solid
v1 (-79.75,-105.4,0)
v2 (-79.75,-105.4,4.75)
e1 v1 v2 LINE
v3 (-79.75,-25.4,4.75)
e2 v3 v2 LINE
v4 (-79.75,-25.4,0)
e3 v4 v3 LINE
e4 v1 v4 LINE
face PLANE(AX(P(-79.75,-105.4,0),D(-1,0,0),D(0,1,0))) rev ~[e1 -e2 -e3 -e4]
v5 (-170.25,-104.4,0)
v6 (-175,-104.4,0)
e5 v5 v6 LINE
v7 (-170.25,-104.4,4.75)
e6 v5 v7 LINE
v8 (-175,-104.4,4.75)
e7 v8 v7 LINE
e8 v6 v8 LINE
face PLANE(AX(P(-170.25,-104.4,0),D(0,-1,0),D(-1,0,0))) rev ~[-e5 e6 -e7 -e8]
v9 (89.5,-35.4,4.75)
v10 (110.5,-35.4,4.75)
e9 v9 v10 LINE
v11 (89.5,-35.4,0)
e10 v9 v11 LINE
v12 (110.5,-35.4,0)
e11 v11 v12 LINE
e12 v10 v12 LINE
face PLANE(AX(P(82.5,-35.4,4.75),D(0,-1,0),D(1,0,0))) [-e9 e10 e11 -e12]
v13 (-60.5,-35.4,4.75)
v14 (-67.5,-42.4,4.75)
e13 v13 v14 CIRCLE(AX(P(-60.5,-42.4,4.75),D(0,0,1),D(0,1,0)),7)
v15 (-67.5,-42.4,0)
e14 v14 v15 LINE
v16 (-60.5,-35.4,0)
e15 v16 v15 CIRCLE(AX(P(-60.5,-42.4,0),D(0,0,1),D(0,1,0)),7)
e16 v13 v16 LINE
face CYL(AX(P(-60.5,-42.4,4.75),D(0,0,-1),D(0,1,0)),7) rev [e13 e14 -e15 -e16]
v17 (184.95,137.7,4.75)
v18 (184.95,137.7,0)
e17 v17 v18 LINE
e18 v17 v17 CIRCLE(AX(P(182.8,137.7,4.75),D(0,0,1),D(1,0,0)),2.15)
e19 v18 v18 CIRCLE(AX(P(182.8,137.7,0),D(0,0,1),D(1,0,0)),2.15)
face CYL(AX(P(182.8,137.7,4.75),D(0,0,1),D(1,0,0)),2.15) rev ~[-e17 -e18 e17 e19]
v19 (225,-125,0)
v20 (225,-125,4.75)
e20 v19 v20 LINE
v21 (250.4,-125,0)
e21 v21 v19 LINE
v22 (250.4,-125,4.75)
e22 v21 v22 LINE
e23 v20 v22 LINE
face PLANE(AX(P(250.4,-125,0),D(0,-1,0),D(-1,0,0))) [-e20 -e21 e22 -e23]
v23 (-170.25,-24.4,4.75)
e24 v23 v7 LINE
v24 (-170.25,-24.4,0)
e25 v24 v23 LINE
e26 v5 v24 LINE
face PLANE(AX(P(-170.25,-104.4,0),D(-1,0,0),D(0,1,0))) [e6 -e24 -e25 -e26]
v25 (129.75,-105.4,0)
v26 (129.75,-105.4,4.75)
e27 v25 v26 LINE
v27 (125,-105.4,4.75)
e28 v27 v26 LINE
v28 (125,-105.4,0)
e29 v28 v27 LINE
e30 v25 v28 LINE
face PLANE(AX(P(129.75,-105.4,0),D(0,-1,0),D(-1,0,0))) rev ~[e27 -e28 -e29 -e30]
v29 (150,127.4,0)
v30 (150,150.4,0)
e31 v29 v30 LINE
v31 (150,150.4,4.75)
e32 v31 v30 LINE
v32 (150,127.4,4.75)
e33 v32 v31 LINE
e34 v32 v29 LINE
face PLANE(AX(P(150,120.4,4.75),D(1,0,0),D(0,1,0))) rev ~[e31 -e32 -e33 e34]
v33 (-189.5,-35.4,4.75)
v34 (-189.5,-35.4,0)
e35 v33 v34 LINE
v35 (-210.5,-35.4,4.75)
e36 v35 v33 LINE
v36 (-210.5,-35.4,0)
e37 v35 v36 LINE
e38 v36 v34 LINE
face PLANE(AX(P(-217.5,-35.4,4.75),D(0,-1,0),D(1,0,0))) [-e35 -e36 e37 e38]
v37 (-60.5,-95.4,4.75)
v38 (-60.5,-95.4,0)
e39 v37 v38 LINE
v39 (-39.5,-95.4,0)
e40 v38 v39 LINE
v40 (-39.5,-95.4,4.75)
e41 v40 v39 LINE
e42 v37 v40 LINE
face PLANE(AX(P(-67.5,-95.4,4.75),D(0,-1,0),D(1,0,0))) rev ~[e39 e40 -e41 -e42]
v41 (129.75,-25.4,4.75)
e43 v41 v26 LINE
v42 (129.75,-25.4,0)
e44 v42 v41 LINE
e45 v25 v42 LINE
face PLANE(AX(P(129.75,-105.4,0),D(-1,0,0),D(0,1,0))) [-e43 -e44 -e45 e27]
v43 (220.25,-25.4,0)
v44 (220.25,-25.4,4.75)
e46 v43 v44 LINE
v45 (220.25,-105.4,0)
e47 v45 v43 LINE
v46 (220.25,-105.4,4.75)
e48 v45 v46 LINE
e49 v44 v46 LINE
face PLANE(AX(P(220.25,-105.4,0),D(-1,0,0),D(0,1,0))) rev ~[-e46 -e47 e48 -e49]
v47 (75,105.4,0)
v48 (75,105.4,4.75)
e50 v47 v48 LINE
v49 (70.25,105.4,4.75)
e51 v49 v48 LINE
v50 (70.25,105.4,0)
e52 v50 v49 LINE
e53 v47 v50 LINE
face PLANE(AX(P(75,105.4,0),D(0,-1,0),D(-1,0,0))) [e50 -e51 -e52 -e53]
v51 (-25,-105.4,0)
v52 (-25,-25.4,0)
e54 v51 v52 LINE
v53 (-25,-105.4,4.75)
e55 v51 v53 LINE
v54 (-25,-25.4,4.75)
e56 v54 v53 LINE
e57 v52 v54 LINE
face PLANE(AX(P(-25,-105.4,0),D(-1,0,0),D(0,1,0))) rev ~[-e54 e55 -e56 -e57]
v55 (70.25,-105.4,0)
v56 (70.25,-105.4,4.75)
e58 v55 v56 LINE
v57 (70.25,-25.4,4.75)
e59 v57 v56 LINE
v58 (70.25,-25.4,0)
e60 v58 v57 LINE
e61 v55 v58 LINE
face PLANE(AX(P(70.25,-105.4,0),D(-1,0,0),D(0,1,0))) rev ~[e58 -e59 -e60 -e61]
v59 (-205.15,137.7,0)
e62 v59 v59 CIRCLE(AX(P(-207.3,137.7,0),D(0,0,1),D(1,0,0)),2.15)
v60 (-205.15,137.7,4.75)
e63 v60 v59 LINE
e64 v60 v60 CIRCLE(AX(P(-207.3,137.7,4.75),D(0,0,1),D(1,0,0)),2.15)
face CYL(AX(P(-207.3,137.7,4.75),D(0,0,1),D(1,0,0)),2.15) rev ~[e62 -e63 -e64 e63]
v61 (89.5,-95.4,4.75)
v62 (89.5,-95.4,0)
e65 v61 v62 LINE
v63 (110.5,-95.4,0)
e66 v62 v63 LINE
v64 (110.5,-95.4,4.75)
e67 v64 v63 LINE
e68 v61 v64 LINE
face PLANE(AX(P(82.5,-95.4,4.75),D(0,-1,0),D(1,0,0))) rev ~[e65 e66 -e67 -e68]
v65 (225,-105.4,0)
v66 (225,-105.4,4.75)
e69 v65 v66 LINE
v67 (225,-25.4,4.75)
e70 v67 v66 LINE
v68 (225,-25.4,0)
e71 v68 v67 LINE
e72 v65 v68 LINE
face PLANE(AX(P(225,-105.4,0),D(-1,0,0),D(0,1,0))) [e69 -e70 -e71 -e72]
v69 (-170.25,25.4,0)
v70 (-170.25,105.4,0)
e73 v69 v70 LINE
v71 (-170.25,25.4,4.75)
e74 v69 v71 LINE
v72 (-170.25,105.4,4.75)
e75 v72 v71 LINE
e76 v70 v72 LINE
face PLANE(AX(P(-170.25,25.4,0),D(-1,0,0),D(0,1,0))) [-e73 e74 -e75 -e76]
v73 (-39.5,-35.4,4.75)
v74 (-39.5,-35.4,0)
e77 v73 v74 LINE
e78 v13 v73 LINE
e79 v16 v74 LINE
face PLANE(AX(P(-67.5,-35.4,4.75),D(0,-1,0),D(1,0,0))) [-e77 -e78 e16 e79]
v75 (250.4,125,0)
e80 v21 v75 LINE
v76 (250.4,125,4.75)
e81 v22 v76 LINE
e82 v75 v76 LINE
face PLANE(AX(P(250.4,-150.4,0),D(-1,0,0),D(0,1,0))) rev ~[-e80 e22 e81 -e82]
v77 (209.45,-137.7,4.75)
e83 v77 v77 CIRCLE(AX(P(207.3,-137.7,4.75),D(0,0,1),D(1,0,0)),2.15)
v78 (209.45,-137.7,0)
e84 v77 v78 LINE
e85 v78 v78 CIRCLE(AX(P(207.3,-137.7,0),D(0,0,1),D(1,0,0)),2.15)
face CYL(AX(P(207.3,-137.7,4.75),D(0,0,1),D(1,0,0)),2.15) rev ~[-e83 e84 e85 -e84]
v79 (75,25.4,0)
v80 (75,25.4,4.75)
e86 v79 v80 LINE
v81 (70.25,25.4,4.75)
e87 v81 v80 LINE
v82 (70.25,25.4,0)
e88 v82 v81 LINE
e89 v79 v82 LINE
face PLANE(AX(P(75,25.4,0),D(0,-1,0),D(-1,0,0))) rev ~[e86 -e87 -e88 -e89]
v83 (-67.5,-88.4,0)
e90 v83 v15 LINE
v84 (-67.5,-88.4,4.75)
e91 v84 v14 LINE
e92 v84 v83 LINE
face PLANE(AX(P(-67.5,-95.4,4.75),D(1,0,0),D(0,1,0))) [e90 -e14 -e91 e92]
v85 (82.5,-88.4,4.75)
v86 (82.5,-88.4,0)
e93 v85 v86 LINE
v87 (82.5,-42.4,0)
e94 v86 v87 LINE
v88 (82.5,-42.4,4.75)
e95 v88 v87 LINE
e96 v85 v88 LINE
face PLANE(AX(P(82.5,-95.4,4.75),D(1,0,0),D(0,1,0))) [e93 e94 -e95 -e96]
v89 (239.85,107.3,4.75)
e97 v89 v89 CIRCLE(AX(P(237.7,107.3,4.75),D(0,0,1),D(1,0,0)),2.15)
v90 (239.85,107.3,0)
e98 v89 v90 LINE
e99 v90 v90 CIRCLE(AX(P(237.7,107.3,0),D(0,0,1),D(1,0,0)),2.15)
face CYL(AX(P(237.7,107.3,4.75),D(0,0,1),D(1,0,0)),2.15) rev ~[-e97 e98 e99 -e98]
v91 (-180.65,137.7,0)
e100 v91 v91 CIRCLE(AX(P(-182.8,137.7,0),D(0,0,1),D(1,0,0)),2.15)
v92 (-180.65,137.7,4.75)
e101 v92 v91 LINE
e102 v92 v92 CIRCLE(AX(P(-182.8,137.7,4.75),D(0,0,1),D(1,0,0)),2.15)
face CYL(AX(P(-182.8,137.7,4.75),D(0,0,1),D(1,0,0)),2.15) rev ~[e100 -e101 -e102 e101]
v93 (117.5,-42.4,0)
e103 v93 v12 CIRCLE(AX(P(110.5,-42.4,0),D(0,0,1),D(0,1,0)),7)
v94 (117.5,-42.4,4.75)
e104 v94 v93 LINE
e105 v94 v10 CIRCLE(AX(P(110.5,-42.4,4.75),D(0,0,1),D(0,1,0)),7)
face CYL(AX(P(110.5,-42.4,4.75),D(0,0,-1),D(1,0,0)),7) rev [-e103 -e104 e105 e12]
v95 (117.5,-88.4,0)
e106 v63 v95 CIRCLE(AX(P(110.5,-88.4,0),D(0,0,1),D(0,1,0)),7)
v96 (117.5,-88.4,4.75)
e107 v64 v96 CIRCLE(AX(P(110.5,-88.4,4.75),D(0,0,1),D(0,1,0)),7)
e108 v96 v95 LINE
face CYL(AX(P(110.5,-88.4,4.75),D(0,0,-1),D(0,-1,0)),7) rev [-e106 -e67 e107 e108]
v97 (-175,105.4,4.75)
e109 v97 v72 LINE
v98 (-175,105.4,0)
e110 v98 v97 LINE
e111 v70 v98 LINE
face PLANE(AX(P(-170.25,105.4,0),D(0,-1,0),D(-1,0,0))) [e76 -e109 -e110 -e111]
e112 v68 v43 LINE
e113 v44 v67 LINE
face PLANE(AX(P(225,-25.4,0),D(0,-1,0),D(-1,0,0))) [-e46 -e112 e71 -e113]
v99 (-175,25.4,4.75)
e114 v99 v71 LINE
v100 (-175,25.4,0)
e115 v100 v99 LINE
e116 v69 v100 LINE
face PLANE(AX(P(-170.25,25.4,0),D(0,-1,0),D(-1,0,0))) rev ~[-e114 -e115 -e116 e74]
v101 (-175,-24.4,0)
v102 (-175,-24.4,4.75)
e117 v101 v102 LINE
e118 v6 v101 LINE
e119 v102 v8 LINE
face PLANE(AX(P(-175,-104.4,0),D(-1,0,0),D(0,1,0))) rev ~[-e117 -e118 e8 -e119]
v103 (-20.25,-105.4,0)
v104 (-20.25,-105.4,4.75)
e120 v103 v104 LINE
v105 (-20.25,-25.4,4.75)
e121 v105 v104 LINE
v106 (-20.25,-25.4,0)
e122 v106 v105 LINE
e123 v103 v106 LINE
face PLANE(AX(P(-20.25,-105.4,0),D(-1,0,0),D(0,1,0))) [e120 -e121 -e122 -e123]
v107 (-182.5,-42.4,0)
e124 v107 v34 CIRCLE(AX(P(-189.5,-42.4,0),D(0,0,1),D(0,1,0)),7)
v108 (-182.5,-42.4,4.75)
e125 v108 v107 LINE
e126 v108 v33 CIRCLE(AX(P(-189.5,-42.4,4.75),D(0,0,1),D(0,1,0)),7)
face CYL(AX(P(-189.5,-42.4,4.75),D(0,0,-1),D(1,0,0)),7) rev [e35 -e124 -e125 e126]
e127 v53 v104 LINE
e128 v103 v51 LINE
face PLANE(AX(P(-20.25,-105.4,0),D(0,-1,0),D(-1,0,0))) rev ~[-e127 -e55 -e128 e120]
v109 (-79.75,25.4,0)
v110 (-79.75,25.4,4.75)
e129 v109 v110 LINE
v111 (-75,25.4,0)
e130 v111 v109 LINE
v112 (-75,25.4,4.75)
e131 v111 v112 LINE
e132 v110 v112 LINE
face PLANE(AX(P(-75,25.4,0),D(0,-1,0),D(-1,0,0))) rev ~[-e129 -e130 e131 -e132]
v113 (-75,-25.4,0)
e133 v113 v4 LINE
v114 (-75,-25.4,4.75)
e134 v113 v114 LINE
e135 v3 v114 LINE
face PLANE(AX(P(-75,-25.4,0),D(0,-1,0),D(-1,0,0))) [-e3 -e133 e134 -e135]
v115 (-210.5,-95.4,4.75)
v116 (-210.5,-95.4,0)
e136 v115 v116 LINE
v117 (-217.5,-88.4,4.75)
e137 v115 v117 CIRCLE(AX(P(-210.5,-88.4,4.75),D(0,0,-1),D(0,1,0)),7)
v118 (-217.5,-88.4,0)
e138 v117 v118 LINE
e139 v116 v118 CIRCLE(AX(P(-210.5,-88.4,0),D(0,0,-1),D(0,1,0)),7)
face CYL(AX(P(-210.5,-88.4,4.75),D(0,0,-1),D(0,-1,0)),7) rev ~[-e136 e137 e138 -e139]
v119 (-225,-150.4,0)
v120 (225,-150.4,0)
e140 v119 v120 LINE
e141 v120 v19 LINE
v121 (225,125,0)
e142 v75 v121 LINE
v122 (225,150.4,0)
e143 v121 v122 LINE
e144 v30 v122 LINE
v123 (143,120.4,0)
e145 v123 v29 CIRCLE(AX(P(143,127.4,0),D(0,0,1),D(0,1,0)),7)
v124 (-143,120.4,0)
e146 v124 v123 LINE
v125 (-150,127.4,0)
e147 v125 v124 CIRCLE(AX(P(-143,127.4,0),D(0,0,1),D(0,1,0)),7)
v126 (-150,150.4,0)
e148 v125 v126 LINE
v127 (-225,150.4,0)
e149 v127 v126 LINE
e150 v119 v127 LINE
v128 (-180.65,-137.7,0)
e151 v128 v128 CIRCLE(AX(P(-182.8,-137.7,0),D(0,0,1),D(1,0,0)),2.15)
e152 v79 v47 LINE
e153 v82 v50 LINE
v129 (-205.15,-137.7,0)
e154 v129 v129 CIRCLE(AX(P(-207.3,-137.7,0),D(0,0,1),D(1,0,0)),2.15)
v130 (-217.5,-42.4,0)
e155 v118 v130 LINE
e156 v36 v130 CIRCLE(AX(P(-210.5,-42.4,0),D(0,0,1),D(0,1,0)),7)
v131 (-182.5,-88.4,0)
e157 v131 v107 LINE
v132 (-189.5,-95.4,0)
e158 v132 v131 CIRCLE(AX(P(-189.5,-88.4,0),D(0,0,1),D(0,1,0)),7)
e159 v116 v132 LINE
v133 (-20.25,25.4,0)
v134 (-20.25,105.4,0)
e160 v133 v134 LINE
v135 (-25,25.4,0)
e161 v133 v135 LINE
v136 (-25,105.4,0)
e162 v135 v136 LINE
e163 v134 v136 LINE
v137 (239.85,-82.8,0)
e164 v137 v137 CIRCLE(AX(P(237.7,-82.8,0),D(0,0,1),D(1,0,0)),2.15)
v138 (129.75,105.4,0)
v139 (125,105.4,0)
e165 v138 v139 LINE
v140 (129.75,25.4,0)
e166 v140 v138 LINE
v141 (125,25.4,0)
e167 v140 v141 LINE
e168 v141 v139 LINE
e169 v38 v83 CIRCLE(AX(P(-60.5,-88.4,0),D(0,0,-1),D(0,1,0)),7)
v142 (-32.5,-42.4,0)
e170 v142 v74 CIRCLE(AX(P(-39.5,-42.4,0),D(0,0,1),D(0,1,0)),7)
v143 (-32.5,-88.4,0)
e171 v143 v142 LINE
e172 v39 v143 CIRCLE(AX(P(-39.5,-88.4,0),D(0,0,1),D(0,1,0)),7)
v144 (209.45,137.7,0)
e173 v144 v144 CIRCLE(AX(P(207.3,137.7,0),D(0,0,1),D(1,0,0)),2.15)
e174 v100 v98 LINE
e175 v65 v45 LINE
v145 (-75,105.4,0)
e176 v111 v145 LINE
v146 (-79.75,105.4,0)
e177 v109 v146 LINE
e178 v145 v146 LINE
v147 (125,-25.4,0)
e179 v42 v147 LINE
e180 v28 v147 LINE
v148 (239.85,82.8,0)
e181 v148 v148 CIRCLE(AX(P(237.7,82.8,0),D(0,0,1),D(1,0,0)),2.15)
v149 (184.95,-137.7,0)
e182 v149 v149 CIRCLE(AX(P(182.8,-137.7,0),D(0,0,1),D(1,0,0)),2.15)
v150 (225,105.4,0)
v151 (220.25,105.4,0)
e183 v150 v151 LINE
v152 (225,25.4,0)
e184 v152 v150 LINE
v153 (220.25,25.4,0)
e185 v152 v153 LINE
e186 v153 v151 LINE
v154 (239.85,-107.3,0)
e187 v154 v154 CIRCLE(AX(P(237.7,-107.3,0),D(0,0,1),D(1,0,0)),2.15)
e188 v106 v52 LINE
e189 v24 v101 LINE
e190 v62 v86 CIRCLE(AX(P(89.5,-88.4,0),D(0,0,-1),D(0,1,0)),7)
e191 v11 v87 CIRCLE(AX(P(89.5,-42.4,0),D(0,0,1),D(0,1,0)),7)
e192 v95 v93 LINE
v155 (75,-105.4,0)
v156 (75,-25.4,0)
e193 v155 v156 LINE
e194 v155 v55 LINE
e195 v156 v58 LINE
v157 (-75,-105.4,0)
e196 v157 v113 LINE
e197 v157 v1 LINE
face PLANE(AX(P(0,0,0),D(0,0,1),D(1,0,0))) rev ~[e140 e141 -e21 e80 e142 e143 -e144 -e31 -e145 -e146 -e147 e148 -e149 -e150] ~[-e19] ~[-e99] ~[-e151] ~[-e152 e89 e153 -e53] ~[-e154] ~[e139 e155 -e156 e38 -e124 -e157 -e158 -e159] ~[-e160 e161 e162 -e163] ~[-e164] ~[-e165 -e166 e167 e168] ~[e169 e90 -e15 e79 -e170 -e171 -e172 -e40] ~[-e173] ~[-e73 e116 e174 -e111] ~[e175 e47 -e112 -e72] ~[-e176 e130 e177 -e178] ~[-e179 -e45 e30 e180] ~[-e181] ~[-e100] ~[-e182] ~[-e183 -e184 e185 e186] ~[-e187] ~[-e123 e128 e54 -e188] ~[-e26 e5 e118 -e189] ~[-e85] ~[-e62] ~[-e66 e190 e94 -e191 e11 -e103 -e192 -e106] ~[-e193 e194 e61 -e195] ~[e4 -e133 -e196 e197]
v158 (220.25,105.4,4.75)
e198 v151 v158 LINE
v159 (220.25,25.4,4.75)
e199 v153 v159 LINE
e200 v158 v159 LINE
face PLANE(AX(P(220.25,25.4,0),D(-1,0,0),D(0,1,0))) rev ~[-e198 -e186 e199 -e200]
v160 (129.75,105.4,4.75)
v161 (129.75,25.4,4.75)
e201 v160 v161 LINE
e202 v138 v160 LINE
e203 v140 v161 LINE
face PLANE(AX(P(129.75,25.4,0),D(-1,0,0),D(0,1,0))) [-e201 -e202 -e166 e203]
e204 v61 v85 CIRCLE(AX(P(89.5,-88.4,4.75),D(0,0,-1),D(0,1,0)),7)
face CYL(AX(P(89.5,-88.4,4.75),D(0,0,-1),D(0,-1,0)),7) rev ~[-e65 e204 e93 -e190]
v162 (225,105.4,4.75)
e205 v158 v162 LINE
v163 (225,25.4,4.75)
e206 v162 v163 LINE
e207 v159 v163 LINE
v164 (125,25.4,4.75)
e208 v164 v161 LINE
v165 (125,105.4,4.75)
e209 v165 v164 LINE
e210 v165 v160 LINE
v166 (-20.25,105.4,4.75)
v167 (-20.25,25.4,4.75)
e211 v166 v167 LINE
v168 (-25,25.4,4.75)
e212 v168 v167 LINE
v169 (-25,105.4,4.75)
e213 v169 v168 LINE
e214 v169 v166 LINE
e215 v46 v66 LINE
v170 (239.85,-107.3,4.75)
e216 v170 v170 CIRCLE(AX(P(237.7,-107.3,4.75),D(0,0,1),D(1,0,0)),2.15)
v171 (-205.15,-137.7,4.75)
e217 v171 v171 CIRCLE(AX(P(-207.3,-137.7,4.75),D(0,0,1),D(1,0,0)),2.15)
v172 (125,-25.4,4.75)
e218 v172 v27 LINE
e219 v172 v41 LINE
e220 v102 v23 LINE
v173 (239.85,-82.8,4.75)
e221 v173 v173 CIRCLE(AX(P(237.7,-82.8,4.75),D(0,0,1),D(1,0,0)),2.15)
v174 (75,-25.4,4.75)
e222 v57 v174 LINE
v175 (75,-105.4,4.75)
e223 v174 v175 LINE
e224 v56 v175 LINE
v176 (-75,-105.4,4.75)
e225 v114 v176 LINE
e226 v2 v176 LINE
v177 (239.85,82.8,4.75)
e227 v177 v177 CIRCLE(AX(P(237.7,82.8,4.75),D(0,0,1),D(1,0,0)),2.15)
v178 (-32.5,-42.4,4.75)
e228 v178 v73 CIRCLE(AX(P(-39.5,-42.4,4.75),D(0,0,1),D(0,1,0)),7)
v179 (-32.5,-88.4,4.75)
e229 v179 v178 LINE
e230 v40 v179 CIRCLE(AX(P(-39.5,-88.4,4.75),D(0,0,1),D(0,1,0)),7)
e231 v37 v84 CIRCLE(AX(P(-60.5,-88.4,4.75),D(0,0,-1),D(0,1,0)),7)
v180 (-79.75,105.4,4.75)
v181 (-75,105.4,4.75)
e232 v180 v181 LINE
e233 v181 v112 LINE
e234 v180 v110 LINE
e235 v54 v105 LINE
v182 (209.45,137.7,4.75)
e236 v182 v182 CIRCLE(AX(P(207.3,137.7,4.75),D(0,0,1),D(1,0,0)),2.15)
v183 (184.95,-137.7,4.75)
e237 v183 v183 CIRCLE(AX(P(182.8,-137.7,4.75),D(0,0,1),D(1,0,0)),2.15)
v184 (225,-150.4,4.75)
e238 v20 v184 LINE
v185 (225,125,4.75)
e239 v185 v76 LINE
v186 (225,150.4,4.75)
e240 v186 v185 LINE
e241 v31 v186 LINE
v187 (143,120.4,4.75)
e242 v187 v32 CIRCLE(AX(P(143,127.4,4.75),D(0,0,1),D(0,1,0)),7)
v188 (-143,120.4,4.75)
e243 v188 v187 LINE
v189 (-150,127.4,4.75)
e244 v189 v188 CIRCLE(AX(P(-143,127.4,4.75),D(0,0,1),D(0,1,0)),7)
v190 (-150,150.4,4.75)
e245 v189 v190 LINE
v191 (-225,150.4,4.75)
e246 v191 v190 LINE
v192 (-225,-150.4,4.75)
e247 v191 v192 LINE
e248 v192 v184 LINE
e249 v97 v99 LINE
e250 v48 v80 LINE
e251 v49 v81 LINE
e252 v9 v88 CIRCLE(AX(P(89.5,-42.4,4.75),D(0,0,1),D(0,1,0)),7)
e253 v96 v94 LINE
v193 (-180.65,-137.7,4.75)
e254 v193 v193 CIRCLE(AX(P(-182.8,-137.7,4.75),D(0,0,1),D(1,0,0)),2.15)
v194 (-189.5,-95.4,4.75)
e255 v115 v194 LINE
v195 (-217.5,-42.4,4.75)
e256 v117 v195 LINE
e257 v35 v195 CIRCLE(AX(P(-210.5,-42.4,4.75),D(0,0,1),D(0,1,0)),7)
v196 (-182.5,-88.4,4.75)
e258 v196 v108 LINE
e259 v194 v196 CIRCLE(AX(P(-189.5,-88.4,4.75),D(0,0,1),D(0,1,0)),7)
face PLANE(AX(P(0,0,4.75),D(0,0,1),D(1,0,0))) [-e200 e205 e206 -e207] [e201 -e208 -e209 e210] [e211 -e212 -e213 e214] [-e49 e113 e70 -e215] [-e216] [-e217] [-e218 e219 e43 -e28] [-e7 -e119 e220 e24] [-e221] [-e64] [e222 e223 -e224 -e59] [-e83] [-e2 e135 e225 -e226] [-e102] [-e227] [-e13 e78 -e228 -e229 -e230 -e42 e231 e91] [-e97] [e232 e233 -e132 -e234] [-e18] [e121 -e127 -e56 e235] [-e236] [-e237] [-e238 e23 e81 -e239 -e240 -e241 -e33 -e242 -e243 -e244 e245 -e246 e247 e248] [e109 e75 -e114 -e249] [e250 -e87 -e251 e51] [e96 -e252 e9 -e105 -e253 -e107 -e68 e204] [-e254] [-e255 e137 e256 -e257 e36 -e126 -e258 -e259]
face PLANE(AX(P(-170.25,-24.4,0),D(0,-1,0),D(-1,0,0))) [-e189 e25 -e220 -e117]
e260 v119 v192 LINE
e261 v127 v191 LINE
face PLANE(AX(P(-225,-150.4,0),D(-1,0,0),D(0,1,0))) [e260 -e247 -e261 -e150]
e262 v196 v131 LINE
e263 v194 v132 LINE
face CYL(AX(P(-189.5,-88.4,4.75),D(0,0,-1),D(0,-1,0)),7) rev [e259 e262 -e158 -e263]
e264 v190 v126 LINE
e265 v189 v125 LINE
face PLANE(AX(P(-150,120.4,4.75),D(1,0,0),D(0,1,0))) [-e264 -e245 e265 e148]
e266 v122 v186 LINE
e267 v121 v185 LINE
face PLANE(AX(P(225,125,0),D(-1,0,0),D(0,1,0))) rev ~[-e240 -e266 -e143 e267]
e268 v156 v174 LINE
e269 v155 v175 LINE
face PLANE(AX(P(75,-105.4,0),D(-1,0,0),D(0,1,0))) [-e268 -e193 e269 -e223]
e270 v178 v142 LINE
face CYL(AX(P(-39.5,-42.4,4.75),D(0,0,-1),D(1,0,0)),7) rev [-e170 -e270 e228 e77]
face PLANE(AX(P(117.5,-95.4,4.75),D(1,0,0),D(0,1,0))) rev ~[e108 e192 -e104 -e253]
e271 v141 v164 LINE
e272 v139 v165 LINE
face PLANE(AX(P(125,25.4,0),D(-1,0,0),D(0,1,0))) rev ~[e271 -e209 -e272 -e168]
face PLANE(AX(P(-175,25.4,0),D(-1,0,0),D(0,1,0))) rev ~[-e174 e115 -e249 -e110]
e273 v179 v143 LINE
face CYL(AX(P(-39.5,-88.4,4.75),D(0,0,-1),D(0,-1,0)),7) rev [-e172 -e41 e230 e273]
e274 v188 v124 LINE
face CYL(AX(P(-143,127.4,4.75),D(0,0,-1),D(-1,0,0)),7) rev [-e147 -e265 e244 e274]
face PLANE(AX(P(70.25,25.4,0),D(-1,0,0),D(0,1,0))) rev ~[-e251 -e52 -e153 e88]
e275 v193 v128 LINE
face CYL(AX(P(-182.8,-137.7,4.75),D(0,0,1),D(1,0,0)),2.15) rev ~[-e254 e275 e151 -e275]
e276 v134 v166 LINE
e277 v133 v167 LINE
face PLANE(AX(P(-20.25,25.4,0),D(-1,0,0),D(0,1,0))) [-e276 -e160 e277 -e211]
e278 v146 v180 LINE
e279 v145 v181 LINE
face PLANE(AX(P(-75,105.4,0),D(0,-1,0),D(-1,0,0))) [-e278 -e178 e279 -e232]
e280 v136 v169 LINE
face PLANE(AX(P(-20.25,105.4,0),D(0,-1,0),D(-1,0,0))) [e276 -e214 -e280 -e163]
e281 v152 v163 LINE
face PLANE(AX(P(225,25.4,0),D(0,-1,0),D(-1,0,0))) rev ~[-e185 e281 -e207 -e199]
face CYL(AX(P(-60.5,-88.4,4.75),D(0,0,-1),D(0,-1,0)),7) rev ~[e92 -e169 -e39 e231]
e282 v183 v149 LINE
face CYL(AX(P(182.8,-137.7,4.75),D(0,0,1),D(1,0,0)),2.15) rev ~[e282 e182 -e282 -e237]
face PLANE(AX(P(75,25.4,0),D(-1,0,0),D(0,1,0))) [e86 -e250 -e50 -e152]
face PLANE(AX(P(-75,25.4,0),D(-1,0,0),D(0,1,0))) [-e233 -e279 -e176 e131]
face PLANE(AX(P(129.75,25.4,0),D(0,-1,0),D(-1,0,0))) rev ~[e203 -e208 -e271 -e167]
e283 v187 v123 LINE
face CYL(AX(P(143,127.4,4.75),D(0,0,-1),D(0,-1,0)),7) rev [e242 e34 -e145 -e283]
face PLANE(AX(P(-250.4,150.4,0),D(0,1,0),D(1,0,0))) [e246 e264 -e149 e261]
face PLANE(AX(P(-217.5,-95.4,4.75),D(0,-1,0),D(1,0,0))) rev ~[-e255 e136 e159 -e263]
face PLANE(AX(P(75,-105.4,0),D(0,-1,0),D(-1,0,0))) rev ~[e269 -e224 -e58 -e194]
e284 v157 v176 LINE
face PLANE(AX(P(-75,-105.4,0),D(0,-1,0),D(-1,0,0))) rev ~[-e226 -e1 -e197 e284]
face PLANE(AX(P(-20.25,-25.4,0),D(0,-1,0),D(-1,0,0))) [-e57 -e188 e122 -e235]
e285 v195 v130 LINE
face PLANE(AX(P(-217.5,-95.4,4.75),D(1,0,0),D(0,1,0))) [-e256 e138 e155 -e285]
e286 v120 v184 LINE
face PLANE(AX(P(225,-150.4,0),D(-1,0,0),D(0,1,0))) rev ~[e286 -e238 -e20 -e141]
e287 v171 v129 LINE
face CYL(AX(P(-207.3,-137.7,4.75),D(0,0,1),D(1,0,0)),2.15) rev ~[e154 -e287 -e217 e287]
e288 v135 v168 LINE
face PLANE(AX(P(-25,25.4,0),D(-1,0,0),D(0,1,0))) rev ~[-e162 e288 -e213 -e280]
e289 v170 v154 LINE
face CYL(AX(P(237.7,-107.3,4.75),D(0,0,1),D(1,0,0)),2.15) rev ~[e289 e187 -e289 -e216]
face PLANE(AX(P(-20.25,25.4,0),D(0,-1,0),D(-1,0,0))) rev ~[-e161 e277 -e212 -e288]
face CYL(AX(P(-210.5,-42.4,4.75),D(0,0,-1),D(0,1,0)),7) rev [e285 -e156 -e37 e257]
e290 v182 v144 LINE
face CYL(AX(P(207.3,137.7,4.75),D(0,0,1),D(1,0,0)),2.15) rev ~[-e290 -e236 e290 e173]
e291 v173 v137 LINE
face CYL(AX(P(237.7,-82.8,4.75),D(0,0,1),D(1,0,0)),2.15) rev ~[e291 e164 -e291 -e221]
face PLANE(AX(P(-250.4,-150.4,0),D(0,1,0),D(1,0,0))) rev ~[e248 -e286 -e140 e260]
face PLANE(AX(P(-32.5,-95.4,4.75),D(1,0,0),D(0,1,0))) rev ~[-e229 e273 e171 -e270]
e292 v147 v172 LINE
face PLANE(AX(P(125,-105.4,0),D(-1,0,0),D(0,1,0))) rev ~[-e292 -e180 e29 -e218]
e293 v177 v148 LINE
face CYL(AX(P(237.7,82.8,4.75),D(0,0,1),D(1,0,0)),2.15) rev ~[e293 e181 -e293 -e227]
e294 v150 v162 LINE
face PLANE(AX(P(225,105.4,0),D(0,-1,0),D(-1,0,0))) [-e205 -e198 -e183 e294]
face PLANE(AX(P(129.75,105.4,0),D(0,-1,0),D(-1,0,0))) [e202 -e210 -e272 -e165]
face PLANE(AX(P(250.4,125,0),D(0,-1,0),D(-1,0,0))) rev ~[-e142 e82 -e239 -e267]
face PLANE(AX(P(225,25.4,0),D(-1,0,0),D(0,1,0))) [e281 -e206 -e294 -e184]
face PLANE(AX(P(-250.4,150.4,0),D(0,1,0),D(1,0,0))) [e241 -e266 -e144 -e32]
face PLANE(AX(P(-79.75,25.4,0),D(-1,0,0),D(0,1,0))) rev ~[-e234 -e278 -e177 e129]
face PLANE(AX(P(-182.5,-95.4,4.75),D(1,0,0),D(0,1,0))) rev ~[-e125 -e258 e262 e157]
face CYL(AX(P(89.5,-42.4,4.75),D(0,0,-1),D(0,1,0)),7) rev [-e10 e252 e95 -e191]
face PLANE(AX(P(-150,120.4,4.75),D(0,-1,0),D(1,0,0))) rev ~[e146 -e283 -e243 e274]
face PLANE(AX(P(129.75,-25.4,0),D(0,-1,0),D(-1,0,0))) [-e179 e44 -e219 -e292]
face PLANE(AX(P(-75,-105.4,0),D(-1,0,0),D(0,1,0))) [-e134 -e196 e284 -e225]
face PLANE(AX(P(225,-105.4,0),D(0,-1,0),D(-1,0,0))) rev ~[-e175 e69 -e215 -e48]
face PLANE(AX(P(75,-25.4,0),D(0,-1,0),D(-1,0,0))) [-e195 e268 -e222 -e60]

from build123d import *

# Parameters (mm, degrees)
SKETCH_1_W          = 500.8
SKETCH_1_H          = 300.8
EXTRUDE_1_DEPTH     = 4.75
SKETCH_2_W          = 25.4
SKETCH_2_H          = 25.4
SKETCH_2_H_2        = 300.8
SKETCH_2_W_2        = 4.75
SKETCH_2_H_3        = 80
CUT_EXTRUDE_1_DEPTH = 10
SKETCH_3_R          = 2.15
SKETCH_3_R_2        = 2.150000004
CUT_EXTRUDE_2_DEPTH = 5
SKETCH_5_W          = 35
SKETCH_5_H          = 60
SKETCH_5_W_2        = 300
SKETCH_5_H_2        = 30
CUT_EXTRUDE_3_DEPTH = 10
FILLET_1_R          = 7


with BuildPart() as part:
    # 草圖1 → 填料-伸長1 (new body)
    with BuildSketch(Plane.XY):
        Rectangle(SKETCH_1_W, SKETCH_1_H)
    extrude(amount=EXTRUDE_1_DEPTH)

    # 草圖2 → 除料-伸長1 (cut)
    with BuildSketch(Plane(origin=(0, 0, 0), x_dir=(-1, 0, 0), z_dir=(0, 0, -1))):
        with Locations((-237.7, 137.7)):
            Rectangle(SKETCH_2_W, SKETCH_2_H)
        with Locations((-237.7, -137.7)):
            Rectangle(SKETCH_2_W, SKETCH_2_H)
        with Locations((237.7, 0)):
            Rectangle(SKETCH_2_W, SKETCH_2_H_2)
        with Locations((-222.625, 65.4)):
            Rectangle(SKETCH_2_W_2, SKETCH_2_H_3)
        with Locations((-222.625, -65.4)):
            Rectangle(SKETCH_2_W_2, SKETCH_2_H_3)
        with Locations((172.625, 65.4)):
            Rectangle(SKETCH_2_W_2, SKETCH_2_H_3)
        with Locations((172.625, -64.4)):
            Rectangle(SKETCH_2_W_2, SKETCH_2_H_3)
        with Locations((-127.375, 65.4)):
            Rectangle(SKETCH_2_W_2, SKETCH_2_H_3)
        with Locations((-72.625, 65.4)):
            Rectangle(SKETCH_2_W_2, SKETCH_2_H_3)
        with Locations((22.625, 65.4)):
            Rectangle(SKETCH_2_W_2, SKETCH_2_H_3)
        with Locations((77.375, 65.4)):
            Rectangle(SKETCH_2_W_2, SKETCH_2_H_3)
        with Locations((77.375, -65.4)):
            Rectangle(SKETCH_2_W_2, SKETCH_2_H_3)
        with Locations((22.625, -65.4)):
            Rectangle(SKETCH_2_W_2, SKETCH_2_H_3)
        with Locations((-127.375, -65.4)):
            Rectangle(SKETCH_2_W_2, SKETCH_2_H_3)
        with Locations((-72.625, -65.4)):
            Rectangle(SKETCH_2_W_2, SKETCH_2_H_3)
    extrude(amount=-CUT_EXTRUDE_1_DEPTH, mode=Mode.SUBTRACT)

    # 草圖3 → 除料-伸長2 (cut)
    with BuildSketch(Plane.XY.offset(4.75)):
        with Locations((-207.3, 137.7)):
            Circle(SKETCH_3_R)
        with Locations((-182.8, 137.7)):
            Circle(SKETCH_3_R)
        with Locations((182.8, 137.7)):
            Circle(SKETCH_3_R)
        with Locations((207.3, 137.7)):
            Circle(SKETCH_3_R)
        with Locations((237.7, 107.3)):
            Circle(SKETCH_3_R)
        with Locations((237.7, 82.8)):
            Circle(SKETCH_3_R)
        with Locations((237.7, -82.800000014)):
            Circle(SKETCH_3_R_2)
        with Locations((237.7, -107.300000014)):
            Circle(SKETCH_3_R_2)
        with Locations((207.3, -137.7)):
            Circle(SKETCH_3_R)
        with Locations((182.8, -137.7)):
            Circle(SKETCH_3_R)
        with Locations((-207.3, -137.7)):
            Circle(SKETCH_3_R)
        with Locations((-182.8, -137.7)):
            Circle(SKETCH_3_R)
    extrude(amount=-CUT_EXTRUDE_2_DEPTH, mode=Mode.SUBTRACT)

    # 草圖5 → 除料-伸長3 (cut)
    with BuildSketch(Plane.XY.offset(4.75)):
        with Locations((100, -65.4)):
            Rectangle(SKETCH_5_W, SKETCH_5_H)
        with Locations((-50, -65.4)):
            Rectangle(SKETCH_5_W, SKETCH_5_H)
        with Locations((-200, -65.4)):
            Rectangle(SKETCH_5_W, SKETCH_5_H)
        with Locations((0, 135.4)):
            Rectangle(SKETCH_5_W_2, SKETCH_5_H_2)
    extrude(amount=-CUT_EXTRUDE_3_DEPTH, mode=Mode.SUBTRACT)

    # 圓角1
    fillet_1_edges = [part.edges().sort_by_distance(p)[0] for p in [
        (-150, 120.4, 2.375),
        (150, 120.4, 2.375),
        (-182.5, -35.4, 2.375),
        (-182.5, -95.4, 2.375),
        (-217.5, -95.4, 2.375),
        (-217.5, -35.4, 2.375),
        (-32.5, -35.4, 2.375),
        (-32.5, -95.4, 2.375),
        (-67.5, -95.4, 2.375),
        (-67.5, -35.4, 2.375),
        (117.5, -35.4, 2.375),
        (117.5, -95.4, 2.375),
        (82.5, -95.4, 2.375),
        (82.5, -35.4, 2.375),
    ]]
    fillet(fillet_1_edges, radius=FILLET_1_R)


solid = part.part
